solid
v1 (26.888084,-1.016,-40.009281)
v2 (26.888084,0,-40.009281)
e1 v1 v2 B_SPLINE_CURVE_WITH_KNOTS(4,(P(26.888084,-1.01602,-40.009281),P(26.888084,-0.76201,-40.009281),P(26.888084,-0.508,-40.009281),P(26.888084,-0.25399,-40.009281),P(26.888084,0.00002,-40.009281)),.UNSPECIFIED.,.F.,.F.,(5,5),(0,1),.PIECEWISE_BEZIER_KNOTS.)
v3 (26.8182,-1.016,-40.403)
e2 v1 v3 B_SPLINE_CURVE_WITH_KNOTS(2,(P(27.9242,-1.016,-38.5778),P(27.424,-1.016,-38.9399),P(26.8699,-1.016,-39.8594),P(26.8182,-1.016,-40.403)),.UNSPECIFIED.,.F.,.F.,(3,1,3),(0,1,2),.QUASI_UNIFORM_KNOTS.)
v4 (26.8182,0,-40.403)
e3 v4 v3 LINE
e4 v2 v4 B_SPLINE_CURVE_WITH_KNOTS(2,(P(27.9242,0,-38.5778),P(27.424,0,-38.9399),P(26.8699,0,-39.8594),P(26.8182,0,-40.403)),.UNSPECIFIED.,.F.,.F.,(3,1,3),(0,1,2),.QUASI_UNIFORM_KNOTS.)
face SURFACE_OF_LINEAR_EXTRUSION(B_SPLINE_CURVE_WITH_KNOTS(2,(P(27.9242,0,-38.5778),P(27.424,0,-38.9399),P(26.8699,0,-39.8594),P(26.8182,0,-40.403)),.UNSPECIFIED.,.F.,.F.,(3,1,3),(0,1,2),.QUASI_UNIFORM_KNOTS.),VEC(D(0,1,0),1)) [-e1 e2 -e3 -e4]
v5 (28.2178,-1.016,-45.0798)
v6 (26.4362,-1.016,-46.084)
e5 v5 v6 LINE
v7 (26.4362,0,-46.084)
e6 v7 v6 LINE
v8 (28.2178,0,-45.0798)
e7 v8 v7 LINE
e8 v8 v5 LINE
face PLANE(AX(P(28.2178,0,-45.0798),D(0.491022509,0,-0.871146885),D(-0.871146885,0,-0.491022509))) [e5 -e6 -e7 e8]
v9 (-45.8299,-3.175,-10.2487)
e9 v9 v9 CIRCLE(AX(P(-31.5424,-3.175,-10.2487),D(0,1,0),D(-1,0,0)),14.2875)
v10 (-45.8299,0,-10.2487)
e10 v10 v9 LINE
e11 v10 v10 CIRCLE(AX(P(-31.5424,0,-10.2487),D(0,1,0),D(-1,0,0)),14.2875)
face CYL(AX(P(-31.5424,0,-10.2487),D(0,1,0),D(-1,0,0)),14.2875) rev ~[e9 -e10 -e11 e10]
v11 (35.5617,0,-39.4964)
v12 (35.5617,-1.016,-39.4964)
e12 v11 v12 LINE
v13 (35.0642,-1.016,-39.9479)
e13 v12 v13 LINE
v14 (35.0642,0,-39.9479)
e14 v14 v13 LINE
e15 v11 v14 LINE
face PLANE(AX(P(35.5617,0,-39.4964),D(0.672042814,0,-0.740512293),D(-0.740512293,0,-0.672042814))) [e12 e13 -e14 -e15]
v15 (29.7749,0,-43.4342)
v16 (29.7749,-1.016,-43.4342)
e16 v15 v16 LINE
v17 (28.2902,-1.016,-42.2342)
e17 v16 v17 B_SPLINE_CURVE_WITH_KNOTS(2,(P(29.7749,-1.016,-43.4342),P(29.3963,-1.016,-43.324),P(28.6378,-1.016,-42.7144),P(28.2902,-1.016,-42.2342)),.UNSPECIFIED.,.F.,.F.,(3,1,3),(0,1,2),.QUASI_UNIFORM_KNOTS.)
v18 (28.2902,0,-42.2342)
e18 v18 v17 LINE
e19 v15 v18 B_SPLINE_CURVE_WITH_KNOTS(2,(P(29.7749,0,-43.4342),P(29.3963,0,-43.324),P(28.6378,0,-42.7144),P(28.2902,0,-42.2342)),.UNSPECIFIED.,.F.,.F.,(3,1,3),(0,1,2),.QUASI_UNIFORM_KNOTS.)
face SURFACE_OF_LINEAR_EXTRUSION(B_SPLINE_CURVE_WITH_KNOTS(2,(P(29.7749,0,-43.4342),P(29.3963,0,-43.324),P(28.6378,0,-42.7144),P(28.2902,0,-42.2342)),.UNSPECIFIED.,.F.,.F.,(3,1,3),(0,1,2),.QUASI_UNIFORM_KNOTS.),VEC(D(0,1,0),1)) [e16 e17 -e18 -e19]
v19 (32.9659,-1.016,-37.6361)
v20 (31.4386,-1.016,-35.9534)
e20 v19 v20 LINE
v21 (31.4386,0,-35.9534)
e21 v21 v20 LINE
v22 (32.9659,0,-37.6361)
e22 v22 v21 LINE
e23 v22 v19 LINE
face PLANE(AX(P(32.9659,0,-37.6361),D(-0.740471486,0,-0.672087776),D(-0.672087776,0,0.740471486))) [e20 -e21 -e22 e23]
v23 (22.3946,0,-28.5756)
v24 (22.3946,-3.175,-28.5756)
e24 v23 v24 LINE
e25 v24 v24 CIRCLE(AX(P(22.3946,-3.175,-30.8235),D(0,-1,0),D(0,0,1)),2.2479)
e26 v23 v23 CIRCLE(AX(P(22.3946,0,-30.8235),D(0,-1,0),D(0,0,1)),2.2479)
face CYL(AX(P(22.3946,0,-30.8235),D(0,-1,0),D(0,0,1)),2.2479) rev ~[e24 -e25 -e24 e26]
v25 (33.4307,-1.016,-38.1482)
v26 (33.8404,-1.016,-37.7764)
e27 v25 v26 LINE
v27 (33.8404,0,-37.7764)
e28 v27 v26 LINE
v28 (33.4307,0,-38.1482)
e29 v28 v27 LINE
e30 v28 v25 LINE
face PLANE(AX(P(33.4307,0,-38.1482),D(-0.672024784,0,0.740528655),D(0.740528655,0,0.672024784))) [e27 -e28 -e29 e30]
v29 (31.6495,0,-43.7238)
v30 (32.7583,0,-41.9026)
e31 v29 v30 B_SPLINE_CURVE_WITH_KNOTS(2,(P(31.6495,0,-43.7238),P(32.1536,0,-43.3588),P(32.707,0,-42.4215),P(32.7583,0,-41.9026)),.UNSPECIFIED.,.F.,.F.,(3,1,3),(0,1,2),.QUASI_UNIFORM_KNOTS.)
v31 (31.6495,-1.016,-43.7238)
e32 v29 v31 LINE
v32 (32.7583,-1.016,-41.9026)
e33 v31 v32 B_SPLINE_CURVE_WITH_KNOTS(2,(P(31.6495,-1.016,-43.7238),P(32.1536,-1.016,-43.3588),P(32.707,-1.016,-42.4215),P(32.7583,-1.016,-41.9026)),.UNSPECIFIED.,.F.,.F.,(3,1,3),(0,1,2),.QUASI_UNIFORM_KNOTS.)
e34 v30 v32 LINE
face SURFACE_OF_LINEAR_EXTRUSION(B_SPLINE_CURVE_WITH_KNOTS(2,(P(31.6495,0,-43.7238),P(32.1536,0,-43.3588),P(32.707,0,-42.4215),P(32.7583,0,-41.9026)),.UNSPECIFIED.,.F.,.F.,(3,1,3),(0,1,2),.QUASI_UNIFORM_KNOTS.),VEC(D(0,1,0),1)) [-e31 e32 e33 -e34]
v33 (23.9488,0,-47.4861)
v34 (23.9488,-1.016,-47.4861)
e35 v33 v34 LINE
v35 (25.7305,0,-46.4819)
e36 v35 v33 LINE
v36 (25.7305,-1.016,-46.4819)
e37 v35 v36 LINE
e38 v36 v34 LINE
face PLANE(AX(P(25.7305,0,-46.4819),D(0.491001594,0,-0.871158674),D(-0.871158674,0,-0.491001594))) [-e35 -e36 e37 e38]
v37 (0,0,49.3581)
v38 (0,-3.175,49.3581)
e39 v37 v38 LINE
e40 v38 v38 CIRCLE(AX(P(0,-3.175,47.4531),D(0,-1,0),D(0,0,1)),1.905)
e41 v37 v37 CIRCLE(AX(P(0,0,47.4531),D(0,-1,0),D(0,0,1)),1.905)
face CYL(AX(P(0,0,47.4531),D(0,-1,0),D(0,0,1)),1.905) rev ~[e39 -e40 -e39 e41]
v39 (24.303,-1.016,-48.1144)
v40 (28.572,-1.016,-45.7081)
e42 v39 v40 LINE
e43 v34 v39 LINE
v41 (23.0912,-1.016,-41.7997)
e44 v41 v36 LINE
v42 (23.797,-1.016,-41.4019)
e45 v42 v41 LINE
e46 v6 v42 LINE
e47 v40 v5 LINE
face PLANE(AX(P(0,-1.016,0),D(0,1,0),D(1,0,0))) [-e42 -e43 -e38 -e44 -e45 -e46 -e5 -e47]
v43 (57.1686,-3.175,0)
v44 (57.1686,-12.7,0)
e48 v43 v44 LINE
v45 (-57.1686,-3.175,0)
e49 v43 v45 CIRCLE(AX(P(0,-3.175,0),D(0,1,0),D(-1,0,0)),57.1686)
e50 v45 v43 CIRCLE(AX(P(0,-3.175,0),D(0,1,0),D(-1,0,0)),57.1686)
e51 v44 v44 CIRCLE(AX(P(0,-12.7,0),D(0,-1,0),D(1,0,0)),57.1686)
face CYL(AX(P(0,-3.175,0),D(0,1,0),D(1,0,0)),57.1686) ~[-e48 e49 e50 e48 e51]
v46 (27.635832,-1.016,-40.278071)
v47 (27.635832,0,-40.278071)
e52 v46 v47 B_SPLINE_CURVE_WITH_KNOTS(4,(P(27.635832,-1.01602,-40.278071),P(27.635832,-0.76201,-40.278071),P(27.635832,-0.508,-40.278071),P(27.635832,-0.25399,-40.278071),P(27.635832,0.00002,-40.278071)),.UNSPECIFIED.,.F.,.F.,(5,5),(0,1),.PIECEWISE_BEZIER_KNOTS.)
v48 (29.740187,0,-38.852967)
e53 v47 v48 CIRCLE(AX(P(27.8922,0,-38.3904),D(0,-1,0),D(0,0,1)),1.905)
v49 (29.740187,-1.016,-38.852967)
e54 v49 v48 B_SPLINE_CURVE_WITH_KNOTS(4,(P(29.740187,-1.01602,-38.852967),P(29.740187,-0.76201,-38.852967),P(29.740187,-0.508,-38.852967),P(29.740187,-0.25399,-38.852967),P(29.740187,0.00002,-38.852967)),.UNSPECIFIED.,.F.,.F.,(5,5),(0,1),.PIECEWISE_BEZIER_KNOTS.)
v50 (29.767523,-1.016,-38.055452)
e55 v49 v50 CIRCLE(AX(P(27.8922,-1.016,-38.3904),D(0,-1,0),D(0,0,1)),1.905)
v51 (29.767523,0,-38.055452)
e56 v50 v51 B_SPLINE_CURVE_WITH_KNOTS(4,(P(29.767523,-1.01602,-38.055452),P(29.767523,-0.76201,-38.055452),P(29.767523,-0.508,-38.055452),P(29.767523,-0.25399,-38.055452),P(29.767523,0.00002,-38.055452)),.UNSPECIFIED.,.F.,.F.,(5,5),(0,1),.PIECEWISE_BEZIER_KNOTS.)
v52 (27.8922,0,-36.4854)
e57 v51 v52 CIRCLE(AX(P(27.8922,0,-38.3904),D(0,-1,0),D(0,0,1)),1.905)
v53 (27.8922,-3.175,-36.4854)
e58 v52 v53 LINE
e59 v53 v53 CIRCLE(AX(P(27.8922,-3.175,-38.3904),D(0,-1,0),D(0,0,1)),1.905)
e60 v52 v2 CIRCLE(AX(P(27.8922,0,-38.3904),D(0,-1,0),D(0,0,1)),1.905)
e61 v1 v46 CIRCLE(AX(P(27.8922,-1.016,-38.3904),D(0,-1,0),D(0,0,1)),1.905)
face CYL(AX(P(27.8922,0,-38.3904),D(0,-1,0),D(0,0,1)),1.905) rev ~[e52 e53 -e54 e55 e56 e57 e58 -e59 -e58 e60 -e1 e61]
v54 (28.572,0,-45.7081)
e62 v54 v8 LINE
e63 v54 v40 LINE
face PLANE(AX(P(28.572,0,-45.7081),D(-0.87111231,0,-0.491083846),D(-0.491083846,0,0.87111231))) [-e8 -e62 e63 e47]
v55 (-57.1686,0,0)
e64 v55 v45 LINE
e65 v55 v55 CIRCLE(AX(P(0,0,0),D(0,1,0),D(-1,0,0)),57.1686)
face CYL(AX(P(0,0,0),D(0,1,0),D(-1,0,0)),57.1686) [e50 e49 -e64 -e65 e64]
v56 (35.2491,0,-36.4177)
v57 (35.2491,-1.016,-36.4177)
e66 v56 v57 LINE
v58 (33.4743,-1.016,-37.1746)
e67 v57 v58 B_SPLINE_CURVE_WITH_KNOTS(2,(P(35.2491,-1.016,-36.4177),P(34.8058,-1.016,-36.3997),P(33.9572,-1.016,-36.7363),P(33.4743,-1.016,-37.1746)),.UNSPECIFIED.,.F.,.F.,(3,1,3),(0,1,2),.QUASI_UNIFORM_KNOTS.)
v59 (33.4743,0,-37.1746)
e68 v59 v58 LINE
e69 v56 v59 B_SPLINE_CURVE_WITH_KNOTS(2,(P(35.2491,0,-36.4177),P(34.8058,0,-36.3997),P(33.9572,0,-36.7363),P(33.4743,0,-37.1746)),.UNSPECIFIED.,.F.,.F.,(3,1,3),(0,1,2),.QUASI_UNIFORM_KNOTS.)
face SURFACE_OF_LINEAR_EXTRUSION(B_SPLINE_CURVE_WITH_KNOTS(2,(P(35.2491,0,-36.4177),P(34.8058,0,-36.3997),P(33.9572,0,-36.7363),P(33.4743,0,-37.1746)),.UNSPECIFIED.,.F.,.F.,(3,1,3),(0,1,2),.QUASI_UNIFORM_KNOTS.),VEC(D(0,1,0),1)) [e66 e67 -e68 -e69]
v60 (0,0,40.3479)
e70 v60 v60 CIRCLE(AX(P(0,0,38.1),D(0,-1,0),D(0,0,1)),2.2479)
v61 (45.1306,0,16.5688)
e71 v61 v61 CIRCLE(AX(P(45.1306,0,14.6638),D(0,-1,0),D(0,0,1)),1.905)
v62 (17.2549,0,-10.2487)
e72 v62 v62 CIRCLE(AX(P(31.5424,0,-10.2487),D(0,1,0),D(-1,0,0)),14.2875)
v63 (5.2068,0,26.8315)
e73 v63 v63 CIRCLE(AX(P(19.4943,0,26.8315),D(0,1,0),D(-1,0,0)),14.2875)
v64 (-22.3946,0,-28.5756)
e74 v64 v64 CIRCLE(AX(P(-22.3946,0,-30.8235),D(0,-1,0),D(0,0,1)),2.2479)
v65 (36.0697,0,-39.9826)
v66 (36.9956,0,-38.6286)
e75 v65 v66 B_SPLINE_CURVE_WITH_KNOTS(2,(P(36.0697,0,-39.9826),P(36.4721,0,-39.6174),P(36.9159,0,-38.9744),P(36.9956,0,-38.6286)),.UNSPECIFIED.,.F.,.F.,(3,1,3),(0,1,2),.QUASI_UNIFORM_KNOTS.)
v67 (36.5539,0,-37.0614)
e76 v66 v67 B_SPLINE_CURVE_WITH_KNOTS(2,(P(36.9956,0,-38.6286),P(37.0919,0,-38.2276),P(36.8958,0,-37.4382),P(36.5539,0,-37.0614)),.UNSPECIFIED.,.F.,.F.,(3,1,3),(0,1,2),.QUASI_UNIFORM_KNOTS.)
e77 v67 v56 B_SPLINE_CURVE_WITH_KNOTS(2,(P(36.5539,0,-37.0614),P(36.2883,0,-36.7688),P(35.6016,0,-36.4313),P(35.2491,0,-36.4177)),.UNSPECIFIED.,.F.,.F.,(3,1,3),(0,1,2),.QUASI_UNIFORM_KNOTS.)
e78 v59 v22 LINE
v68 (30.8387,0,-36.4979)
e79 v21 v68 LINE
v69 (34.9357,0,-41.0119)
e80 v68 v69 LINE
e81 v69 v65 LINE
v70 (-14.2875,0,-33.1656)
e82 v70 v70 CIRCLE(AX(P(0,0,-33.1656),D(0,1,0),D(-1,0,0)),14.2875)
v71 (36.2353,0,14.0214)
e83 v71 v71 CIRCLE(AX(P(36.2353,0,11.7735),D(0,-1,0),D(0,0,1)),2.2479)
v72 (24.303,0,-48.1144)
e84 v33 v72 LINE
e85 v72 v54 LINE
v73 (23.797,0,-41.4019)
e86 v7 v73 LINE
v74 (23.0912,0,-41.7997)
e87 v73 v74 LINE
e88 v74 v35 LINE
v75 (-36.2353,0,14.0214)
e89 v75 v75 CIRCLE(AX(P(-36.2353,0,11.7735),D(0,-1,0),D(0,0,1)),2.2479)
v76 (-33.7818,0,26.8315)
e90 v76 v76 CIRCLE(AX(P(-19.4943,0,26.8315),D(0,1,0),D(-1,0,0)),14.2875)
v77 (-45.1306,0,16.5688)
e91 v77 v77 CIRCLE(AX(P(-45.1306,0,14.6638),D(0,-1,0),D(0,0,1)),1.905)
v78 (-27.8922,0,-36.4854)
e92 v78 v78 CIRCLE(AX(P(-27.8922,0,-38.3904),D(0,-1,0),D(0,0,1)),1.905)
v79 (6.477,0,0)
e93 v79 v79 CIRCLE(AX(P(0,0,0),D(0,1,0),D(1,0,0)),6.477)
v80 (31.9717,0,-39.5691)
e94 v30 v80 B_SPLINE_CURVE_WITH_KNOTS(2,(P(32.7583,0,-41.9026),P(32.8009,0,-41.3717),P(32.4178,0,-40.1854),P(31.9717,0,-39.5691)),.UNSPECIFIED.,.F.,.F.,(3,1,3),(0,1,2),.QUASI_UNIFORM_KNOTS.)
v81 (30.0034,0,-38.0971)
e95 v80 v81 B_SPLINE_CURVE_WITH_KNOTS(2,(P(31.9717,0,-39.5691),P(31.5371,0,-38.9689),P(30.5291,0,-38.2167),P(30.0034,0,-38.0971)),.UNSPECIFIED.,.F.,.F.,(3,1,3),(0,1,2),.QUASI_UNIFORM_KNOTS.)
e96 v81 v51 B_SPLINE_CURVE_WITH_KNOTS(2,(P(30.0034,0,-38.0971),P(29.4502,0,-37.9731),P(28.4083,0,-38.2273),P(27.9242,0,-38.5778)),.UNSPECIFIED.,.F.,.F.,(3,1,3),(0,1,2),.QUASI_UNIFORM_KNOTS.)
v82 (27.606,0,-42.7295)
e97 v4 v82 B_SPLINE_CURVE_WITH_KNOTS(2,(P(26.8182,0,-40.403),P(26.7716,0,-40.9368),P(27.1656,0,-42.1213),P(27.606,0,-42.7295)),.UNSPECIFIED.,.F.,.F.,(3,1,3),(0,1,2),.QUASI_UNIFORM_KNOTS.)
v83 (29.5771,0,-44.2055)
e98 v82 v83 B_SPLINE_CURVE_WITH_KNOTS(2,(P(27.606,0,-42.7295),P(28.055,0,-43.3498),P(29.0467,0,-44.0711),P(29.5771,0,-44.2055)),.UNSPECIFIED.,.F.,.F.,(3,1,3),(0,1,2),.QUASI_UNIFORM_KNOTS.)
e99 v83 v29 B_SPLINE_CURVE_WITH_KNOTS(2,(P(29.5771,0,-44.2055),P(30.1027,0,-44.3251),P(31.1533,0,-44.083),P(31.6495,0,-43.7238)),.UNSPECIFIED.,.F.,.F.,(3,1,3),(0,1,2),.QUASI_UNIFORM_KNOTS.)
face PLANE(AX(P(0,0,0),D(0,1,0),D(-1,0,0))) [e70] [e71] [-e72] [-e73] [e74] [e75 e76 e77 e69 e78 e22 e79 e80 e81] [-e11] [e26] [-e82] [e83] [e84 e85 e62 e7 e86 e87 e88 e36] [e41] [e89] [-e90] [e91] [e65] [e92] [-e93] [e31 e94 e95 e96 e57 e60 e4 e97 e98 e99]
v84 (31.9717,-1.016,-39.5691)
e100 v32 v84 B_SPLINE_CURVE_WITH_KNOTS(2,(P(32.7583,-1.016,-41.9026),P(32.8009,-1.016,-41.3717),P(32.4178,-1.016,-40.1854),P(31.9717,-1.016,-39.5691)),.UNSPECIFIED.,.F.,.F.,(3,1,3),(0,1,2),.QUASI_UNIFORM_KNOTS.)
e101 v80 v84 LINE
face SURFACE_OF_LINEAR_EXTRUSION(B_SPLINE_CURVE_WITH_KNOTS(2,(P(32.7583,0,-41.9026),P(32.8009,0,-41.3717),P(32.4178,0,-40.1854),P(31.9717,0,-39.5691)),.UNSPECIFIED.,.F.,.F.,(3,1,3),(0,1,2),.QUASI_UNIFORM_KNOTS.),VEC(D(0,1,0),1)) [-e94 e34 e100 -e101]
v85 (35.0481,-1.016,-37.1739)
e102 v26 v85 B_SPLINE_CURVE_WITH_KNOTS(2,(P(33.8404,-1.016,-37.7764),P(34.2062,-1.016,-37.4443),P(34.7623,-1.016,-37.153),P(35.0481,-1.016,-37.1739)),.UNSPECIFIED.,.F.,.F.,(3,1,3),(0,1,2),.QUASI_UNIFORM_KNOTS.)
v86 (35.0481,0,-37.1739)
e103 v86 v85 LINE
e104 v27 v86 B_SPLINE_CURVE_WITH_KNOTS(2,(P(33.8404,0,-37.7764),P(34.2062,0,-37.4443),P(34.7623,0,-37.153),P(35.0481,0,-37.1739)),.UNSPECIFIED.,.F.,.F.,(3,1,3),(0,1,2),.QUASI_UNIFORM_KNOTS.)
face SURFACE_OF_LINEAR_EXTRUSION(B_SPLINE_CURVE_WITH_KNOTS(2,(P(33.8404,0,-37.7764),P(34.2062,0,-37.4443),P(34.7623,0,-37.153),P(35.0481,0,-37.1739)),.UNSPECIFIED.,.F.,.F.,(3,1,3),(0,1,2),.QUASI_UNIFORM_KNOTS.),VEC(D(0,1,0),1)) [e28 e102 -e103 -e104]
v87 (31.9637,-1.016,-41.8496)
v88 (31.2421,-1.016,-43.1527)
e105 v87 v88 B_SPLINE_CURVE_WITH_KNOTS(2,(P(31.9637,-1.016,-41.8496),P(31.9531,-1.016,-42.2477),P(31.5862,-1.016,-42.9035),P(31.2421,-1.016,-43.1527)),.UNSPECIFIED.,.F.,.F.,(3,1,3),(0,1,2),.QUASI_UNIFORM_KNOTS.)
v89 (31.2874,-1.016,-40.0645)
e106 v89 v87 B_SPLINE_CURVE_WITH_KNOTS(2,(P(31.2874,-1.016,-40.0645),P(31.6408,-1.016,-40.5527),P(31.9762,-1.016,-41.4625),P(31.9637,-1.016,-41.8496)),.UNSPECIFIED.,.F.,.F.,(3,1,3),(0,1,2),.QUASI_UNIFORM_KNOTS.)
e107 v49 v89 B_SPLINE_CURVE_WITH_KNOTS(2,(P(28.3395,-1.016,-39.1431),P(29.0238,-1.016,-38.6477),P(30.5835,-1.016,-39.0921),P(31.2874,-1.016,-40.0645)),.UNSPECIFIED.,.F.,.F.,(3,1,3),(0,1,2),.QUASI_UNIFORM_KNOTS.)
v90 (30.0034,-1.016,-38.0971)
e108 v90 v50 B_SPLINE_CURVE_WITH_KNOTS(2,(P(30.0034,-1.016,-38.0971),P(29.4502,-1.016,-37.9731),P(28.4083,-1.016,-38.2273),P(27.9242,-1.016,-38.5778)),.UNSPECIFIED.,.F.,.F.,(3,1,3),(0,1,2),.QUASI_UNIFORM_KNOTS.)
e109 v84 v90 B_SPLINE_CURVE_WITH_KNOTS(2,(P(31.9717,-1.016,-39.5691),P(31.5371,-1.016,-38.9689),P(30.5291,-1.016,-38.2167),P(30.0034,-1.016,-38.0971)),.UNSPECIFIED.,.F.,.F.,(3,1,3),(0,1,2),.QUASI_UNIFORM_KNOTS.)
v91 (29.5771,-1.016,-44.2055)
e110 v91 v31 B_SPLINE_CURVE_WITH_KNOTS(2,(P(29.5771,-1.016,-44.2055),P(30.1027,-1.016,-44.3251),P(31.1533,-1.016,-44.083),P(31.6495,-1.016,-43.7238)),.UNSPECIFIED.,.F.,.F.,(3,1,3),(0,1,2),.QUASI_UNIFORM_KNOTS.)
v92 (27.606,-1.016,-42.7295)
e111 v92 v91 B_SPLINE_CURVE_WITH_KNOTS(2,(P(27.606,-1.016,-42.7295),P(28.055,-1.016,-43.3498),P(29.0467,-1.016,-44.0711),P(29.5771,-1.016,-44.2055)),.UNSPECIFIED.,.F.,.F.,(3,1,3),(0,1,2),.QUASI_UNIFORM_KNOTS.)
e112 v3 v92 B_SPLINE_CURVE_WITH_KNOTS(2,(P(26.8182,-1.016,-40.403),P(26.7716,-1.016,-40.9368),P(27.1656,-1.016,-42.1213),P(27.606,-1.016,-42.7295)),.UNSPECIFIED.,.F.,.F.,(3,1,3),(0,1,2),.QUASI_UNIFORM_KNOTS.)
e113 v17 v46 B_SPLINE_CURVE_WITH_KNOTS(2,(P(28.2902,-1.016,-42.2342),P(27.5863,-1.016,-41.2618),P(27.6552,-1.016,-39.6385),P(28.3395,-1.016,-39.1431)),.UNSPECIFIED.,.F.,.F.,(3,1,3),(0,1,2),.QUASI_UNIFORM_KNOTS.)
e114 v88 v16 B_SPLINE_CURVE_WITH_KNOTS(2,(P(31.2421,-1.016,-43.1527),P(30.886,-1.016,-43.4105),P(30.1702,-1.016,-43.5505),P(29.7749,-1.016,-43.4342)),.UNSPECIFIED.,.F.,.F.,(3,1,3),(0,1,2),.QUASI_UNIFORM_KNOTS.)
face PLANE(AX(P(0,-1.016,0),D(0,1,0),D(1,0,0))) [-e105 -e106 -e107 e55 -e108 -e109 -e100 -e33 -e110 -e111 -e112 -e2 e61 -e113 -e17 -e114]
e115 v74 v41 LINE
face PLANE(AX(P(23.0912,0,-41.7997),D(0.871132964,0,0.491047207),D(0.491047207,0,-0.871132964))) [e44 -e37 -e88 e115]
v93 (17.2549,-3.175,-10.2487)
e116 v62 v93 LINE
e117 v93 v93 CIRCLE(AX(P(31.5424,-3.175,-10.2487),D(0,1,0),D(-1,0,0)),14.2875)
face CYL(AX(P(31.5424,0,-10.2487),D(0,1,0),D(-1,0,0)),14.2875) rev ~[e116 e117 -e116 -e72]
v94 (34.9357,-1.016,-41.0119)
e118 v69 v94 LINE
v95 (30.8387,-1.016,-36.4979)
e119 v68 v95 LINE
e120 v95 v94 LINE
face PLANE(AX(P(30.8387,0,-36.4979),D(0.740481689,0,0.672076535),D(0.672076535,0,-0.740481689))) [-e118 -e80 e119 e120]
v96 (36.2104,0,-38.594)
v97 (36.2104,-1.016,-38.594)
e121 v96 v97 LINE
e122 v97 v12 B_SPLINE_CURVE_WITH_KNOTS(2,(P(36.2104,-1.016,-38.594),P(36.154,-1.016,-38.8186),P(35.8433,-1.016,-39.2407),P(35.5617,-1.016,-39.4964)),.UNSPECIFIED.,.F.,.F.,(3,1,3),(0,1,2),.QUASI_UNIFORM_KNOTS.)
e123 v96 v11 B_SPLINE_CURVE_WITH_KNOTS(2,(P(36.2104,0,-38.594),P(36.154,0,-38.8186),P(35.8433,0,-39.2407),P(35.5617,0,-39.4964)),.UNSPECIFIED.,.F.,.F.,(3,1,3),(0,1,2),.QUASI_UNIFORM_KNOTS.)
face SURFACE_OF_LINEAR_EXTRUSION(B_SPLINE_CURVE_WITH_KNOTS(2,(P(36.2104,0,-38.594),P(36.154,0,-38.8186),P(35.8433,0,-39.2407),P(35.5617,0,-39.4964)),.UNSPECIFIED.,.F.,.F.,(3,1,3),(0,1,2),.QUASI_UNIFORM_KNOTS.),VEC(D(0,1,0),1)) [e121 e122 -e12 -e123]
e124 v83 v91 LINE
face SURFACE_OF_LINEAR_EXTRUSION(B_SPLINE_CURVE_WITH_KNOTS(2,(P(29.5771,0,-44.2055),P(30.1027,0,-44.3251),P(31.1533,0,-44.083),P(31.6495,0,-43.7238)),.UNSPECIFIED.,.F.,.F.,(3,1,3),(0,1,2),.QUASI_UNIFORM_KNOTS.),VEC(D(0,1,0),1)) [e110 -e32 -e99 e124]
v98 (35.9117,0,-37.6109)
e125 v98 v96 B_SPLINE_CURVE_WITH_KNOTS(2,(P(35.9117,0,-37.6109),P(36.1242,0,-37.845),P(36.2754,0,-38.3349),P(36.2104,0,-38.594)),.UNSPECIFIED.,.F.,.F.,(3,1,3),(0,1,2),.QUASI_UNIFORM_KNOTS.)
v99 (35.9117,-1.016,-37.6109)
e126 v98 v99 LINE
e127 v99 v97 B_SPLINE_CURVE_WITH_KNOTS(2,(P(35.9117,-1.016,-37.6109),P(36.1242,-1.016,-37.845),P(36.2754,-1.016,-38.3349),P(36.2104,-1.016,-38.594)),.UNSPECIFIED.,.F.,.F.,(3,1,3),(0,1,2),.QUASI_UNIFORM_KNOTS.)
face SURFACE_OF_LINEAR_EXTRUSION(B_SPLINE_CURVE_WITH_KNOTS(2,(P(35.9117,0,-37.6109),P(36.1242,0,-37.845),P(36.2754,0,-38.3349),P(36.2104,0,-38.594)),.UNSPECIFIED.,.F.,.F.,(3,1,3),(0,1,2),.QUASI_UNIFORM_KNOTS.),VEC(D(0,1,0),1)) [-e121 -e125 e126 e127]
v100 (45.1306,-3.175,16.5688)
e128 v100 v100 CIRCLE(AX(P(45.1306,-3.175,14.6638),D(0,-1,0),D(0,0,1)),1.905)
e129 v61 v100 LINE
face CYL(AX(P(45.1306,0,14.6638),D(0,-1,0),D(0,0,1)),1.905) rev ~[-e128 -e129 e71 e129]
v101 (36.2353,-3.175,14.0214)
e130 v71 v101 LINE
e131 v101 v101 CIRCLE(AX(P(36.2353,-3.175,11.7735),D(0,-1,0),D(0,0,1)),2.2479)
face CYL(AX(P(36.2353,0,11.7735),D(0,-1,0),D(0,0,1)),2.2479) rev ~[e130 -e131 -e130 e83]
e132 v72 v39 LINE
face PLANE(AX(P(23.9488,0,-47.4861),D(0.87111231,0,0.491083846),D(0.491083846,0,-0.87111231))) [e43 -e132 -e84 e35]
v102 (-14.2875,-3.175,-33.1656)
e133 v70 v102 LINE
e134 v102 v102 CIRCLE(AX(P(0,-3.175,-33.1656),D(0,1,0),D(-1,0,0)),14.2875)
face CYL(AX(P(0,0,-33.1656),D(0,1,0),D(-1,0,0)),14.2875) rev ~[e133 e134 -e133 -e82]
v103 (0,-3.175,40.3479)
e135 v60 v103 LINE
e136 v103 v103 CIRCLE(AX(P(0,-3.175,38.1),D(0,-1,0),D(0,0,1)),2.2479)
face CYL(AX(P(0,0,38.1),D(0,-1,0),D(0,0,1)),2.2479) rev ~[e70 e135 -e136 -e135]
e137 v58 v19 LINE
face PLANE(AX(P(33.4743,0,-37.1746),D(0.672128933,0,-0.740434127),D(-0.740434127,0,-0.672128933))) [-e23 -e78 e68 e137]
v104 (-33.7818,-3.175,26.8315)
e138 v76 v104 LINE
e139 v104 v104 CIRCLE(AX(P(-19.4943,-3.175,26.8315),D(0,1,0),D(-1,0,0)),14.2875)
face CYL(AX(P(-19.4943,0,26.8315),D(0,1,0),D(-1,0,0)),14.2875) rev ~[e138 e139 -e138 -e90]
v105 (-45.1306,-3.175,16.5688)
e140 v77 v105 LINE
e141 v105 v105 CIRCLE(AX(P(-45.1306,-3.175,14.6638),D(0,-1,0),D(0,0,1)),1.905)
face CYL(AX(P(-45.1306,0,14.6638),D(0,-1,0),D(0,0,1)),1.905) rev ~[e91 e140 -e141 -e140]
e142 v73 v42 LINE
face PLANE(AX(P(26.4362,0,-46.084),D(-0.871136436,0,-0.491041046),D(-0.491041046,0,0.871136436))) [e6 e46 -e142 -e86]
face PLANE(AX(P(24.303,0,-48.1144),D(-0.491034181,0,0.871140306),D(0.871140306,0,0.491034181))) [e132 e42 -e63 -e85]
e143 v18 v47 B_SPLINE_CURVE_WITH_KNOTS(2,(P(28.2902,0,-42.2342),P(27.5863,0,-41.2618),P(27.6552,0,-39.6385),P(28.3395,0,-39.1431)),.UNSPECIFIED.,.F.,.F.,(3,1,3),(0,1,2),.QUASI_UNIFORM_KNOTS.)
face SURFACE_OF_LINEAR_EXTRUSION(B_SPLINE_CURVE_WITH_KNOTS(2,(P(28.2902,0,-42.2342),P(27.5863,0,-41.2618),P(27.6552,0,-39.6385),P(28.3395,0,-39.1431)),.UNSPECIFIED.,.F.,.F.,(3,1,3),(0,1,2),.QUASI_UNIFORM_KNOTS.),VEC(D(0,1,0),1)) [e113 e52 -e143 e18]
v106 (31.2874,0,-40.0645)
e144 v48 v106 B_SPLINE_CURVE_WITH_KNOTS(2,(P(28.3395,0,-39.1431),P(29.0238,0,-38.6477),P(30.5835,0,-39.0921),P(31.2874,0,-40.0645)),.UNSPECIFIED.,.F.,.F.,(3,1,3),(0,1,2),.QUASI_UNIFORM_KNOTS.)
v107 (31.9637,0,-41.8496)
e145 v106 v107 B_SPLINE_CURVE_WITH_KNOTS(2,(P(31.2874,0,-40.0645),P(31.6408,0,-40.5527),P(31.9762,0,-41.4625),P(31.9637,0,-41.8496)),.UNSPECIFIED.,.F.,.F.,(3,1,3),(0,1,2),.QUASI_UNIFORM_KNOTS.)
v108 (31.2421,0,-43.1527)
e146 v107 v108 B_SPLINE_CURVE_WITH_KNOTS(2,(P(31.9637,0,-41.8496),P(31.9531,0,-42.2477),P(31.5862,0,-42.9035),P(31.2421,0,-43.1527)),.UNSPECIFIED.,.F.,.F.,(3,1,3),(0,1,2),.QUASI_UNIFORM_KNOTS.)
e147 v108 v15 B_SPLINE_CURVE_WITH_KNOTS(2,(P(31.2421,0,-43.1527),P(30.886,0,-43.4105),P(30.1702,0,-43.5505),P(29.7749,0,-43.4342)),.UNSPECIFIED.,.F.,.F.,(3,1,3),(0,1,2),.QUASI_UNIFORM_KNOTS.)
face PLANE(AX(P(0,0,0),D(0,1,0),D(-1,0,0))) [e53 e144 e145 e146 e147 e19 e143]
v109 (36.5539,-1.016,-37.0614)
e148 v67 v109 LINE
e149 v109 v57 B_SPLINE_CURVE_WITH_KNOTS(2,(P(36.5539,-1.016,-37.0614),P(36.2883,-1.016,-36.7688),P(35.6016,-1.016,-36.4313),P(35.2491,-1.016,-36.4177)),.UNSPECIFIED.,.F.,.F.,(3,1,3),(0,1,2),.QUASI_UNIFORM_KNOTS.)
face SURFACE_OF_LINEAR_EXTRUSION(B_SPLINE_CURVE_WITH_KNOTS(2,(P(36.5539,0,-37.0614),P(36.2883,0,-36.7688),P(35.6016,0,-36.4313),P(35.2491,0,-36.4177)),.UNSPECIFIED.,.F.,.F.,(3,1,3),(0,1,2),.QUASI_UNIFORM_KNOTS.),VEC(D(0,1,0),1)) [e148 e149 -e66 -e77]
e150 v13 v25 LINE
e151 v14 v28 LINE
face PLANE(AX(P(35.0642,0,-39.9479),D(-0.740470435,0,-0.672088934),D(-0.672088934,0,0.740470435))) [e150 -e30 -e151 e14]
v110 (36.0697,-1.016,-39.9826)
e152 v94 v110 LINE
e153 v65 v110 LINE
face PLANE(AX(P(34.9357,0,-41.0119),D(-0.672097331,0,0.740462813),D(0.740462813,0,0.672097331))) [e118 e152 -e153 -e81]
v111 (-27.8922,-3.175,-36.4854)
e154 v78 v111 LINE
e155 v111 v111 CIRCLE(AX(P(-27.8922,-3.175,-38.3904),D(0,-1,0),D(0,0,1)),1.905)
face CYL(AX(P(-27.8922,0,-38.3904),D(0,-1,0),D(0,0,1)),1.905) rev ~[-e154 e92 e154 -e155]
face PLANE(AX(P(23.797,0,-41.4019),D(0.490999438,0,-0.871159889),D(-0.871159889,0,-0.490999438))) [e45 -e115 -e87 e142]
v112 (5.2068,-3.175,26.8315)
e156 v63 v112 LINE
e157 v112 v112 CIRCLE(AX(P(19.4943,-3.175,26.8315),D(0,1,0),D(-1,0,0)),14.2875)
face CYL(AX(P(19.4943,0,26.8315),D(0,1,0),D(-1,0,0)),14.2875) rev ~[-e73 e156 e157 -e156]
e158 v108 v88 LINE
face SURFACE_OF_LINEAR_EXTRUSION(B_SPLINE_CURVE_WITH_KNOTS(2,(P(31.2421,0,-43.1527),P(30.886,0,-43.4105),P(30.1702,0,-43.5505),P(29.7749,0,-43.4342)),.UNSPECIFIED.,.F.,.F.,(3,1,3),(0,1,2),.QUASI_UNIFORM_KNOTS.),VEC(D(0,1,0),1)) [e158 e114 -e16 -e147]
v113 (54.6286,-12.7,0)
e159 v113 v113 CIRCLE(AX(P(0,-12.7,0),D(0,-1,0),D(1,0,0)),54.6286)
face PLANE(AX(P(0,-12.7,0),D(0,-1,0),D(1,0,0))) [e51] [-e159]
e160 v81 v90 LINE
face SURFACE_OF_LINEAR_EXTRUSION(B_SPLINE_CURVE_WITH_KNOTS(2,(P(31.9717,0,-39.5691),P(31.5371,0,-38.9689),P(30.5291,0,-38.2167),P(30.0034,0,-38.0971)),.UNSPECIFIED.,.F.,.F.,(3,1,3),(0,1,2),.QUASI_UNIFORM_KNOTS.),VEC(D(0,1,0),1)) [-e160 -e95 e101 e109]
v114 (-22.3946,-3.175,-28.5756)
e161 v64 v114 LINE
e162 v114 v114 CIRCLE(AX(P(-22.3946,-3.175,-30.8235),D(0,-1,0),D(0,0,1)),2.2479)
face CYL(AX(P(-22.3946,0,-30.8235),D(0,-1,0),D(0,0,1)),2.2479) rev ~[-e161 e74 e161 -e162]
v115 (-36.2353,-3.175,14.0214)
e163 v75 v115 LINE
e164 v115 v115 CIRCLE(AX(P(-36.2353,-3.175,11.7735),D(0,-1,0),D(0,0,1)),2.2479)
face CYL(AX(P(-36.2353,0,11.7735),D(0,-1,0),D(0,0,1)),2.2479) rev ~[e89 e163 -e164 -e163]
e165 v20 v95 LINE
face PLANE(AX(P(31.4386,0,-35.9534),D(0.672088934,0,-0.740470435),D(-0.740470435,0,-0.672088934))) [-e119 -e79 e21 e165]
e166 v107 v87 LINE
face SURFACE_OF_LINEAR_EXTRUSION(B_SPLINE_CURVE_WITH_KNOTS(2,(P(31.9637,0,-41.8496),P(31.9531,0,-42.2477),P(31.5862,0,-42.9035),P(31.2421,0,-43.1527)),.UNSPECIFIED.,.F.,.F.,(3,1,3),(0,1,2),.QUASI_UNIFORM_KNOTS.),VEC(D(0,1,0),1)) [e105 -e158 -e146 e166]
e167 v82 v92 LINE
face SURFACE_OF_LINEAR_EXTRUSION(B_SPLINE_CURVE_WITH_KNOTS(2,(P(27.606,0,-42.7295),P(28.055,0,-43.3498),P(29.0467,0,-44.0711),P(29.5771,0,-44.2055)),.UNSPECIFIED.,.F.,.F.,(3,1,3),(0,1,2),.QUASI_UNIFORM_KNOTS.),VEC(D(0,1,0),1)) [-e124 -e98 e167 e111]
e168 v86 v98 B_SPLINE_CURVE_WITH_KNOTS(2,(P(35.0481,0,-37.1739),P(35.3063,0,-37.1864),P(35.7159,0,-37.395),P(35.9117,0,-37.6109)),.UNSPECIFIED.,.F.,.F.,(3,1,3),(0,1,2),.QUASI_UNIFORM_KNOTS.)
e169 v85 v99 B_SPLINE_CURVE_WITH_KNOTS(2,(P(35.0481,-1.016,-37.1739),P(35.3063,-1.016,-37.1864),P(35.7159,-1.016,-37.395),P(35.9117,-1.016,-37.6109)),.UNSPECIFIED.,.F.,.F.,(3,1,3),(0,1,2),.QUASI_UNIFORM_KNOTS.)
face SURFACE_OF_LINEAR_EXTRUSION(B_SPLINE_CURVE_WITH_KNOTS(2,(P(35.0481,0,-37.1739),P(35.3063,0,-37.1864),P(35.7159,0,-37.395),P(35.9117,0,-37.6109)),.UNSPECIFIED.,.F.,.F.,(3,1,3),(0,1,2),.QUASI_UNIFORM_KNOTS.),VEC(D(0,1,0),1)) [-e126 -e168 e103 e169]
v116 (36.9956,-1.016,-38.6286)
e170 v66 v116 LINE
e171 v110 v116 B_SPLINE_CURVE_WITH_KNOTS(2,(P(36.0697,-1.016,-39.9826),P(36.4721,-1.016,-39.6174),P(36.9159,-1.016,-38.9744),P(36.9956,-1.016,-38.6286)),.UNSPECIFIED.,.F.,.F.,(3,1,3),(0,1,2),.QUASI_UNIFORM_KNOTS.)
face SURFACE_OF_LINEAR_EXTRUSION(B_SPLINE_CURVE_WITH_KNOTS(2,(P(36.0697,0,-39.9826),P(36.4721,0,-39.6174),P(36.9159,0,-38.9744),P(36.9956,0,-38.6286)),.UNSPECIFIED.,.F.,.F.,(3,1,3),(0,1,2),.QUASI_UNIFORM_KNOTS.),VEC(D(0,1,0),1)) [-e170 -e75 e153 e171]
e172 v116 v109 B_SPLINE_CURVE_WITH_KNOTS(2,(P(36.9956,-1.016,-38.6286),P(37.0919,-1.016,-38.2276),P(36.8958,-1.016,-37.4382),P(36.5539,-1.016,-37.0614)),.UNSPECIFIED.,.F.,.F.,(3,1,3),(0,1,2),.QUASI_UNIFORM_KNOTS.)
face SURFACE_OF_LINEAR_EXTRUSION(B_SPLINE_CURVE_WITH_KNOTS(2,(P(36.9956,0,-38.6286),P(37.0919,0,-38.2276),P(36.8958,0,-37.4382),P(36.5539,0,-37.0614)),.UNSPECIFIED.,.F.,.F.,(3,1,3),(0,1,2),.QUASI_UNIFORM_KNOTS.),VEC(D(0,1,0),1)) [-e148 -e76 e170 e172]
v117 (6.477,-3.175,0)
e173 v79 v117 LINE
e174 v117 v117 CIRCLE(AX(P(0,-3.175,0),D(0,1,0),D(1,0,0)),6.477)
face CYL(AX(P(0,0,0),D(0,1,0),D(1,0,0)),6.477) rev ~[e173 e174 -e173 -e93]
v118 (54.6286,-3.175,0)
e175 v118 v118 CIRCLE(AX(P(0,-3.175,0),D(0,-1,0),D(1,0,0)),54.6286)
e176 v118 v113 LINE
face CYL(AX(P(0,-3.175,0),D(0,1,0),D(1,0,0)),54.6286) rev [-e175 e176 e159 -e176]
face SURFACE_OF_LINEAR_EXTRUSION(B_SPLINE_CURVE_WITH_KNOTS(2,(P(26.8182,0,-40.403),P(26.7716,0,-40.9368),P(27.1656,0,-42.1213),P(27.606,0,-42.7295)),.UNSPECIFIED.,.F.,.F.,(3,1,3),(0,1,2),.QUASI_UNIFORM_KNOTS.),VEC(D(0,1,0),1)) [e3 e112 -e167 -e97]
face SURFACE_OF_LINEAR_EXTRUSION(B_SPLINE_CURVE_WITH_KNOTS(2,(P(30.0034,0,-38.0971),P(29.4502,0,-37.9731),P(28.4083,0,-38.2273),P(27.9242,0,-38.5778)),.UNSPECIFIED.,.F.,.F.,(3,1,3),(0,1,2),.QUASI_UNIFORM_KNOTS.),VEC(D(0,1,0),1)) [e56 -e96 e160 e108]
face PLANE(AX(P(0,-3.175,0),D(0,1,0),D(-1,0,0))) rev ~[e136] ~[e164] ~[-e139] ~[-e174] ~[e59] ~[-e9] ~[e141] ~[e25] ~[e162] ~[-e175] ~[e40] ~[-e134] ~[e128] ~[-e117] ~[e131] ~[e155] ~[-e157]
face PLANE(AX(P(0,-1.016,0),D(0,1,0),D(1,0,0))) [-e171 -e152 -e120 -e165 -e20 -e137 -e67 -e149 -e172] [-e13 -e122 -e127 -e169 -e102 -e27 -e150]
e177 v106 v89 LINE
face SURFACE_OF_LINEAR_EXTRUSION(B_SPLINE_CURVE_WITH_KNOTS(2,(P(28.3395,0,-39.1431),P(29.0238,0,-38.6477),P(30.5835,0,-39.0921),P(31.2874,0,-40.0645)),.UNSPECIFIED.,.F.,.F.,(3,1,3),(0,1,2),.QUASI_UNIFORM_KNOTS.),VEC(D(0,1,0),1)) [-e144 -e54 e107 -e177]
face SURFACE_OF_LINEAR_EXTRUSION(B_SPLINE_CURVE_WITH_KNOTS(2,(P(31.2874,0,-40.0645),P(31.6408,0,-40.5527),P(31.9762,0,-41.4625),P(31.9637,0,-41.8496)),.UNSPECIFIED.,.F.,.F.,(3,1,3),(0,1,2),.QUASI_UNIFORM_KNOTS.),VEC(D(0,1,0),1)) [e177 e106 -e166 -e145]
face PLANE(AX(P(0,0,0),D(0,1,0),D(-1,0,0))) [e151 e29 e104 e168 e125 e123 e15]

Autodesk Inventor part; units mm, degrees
ref_plane "YZ Plane" through (0, 0, 0) normal (1, 0, 0) x (0, 1, 0)
ref_plane "XZ Plane" through (0, 0, 0) normal (0, 1, 0) x (-1, 0, 0)
ref_plane "XY Plane" through (0, 0, 0) normal (0, 0, 1) x (1, 0, 0)
sketch "Sketch1" plane through (0, 0, 0) normal (0, 1, 0) x (-1, 0, 0)
  circle A0 centre (0, 0) radius 57.1686
  circle A1 centre (0, 0) radius 33.1656 construction
  circle A2 centre (0, -33.1656) radius 14.2875
  circle A3 centre (31.5424, -10.2487) radius 14.2875
  circle A4 centre (19.4943, 26.8315) radius 14.2875
  circle A5 centre (-19.4943, 26.8315) radius 14.2875
  circle A6 centre (-31.5424, -10.2487) radius 14.2875
  dimension "wheelFilterDiameter" = 66.3312
  dimension "wheelOuterDiameter" = 114.3372
  dimension "filterThreadDiameter" = 28.575
  dimension "d5" = 360
extrude "Extrusion5" add sketch "Sketch1" against normal blind 3.175
sketch "Sketch5" plane through (0, 0, 0) normal (0, 1, 0) x (1, 0, 0)
  arc A0 (35.921, 35.921) -> (0, 50.8) centre (0, 0) ccw construction
  line L0 (0, 50.8) -> (0, -50.8) construction
  line L1 (50.8, 0) -> (-50.8, 0) construction
  line L2 (0, 0) -> (35.921, 35.921) construction
  line L3 (23.0912, 41.7997) -> (25.7305, 46.4819)
  line L4 (25.7305, 46.4819) -> (23.9488, 47.4861)
  line L5 (23.9488, 47.4861) -> (24.303, 48.1144)
  line L6 (24.303, 48.1144) -> (28.572, 45.7081)
  line L7 (28.572, 45.7081) -> (28.2178, 45.0798)
  line L8 (28.2178, 45.0798) -> (26.4362, 46.084)
  line L9 (26.4362, 46.084) -> (23.797, 41.4019)
  line L10 (23.797, 41.4019) -> (23.0912, 41.7997)
  spline S0 degree 2 poles (32.7583, 41.9026) (32.8009, 41.3717) (32.4178, 40.1854) (31.9717, 39.5691) knots 0 0 0 1 2 2 2
  spline S1 degree 2 poles (31.9717, 39.5691) (31.5371, 38.9689) (30.5291, 38.2167) (30.0034, 38.0971) knots 0 0 0 1 2 2 2
  spline S2 degree 2 poles (30.0034, 38.0971) (29.4502, 37.9731) (28.4083, 38.2273) (27.9242, 38.5778) knots 0 0 0 1 2 2 2
  spline S3 degree 2 poles (27.9242, 38.5778) (27.424, 38.9399) (26.8699, 39.8594) (26.8182, 40.403) knots 0 0 0 1 2 2 2
  spline S4 degree 2 poles (26.8182, 40.403) (26.7716, 40.9368) (27.1656, 42.1213) (27.606, 42.7295) knots 0 0 0 1 2 2 2
  spline S5 degree 2 poles (27.606, 42.7295) (28.055, 43.3498) (29.0467, 44.0711) (29.5771, 44.2055) knots 0 0 0 1 2 2 2
  spline S6 degree 2 poles (29.5771, 44.2055) (30.1027, 44.3251) (31.1533, 44.083) (31.6495, 43.7238) knots 0 0 0 1 2 2 2
  spline S7 degree 2 poles (31.6495, 43.7238) (32.1536, 43.3588) (32.707, 42.4215) (32.7583, 41.9026) knots 0 0 0 1 2 2 2
  spline S8 degree 2 poles (31.2874, 40.0645) (31.6408, 40.5527) (31.9762, 41.4625) (31.9637, 41.8496) knots 0 0 0 1 2 2 2
  spline S9 degree 2 poles (31.9637, 41.8496) (31.9531, 42.2477) (31.5862, 42.9035) (31.2421, 43.1527) knots 0 0 0 1 2 2 2
  spline S10 degree 2 poles (31.2421, 43.1527) (30.886, 43.4105) (30.1702, 43.5505) (29.7749, 43.4342) knots 0 0 0 1 2 2 2
  spline S11 degree 2 poles (29.7749, 43.4342) (29.3963, 43.324) (28.6378, 42.7144) (28.2902, 42.2342) knots 0 0 0 1 2 2 2
  spline S12 degree 2 poles (28.2902, 42.2342) (27.5863, 41.2618) (27.6552, 39.6385) (28.3395, 39.1431) knots 0 0 0 1 2 2 2
  spline S13 degree 2 poles (28.3395, 39.1431) (29.0238, 38.6477) (30.5835, 39.0921) (31.2874, 40.0645) knots 0 0 0 1 2 2 2
  spline S14 degree 2 poles (36.5539, 37.0614) (36.2883, 36.7688) (35.6016, 36.4313) (35.2491, 36.4177) knots 0 0 0 1 2 2 2
  spline S15 degree 2 poles (35.2491, 36.4177) (34.8058, 36.3997) (33.9572, 36.7363) (33.4743, 37.1746) knots 0 0 0 1 2 2 2
  line L11 (33.4743, 37.1746) -> (32.9659, 37.6361)
  line L12 (32.9659, 37.6361) -> (31.4386, 35.9534)
  line L13 (31.4386, 35.9534) -> (30.8387, 36.4979)
  line L14 (30.8387, 36.4979) -> (34.9357, 41.0119)
  line L15 (34.9357, 41.0119) -> (36.0697, 39.9826)
  spline S16 degree 2 poles (36.0697, 39.9826) (36.4721, 39.6174) (36.9159, 38.9744) (36.9956, 38.6286) knots 0 0 0 1 2 2 2
  spline S17 degree 2 poles (36.9956, 38.6286) (37.0919, 38.2276) (36.8958, 37.4382) (36.5539, 37.0614) knots 0 0 0 1 2 2 2
  spline S18 degree 2 poles (35.9117, 37.6109) (36.1242, 37.845) (36.2754, 38.3349) (36.2104, 38.594) knots 0 0 0 1 2 2 2
  spline S19 degree 2 poles (36.2104, 38.594) (36.154, 38.8186) (35.8433, 39.2407) (35.5617, 39.4964) knots 0 0 0 1 2 2 2
  line L16 (35.5617, 39.4964) -> (35.0642, 39.9479)
  line L17 (35.0642, 39.9479) -> (33.4307, 38.1482)
  line L18 (33.4307, 38.1482) -> (33.8404, 37.7764)
  spline S20 degree 2 poles (33.8404, 37.7764) (34.2062, 37.4443) (34.7623, 37.153) (35.0481, 37.1739) knots 0 0 0 1 2 2 2
  spline S21 degree 2 poles (35.0481, 37.1739) (35.3063, 37.1864) (35.7159, 37.395) (35.9117, 37.6109) knots 0 0 0 1 2 2 2
  dimension "d25" = 101.6
extrude "Extrusion6" cut sketch "Sketch5" against normal blind 1.016
sketch "Sketch6" plane through (0, 0, 0) normal (0, 1, 0) x (1, 0, 0)
  circle A0 centre (0, 0) radius 6.477
  dimension "d28" = 12.954
extrude "Extrusion7" cut sketch "Sketch6" against normal through all
sketch "Sketch8" plane through (0, -3.175, 0) normal (0, -1, 0) x (1, 0, 0)
  circle A0 centre (0, 0) radius 57.1686
  circle A1 centre (0, 0) radius 54.6286
  dimension "d38" = 114.3372
  dimension "d39" = 2.54
extrude "Extrusion8" add sketch "Sketch8" along normal blind 9.525
sketch "Sketch9" plane through (0, 0, 0) normal (0, 1, 0) x (1, 0, 0)
  circle A0 centre (0, 0) radius 6.477 construction
  circle A1 centre (0, 0) radius 38.1 construction
  line L0 (0, 0) -> (38.1, 0) construction
  line L1 (0, 0) -> (36.2353, -11.7735) construction
  circle A2 centre (19.4943, -26.8315) radius 14.2875 construction
  circle A3 centre (31.5424, 10.2487) radius 14.2875 construction
  line L2 (36.2353, -11.7735) -> (38.0188, -2.4866) construction
  circle A4 centre (31.5424, 10.2487) radius 14.2875 construction
  line L3 (36.2353, -11.7735) -> (32.2194, -20.3352) construction
  point P0 (22.3946, 30.8235)
  point P1 (-22.3946, 30.8235)
  point P2 (-36.2353, -11.7735)
  point P3 (0, -38.1)
  dimension "d42" = 76.2
  dimension "d45" = 360
  dimension "d54" = 18
hole "Hole2" at (36.2353, 0, 11.7735) at (22.3946, 0, -30.8235) at (-22.3946, 0, -30.8235) at (-36.2353, 0, 11.7735) at (0, 0, 38.1) direction (0, -1, 0) diameter 4.4958 end through all clearance for "Flat Head Machine Screw (82)" size "#8" standard "Ansi Unified Screw Threads"
sketch "Sketch11" plane through (0, 0, 0) normal (0, 1, 0) x (1, 0, 0)
  circle A0 centre (0, 0) radius 57.1686 projected
  circle A1 centre (0, 0) radius 47.4531 construction
  point P0 (0, -47.4531)
  point P1 (-45.1306, -14.6638)
  point P2 (-27.8922, 38.3904)
  point P3 (27.8922, 38.3904)
  point P4 (45.1306, -14.6638)
  dimension "d63" = 9.7155
  dimension "d66" = 360
hole "Hole4" at (0, 0, 47.4531) at (-45.1306, 0, 14.6638) at (-27.8922, 0, -38.3904) at (27.8922, 0, -38.3904) at (45.1306, 0, 14.6638) direction (0, -1, 0) diameter 3.81 end through all clearance for "Hex Machine Screw" size "#6" standard "Ansi Unified Screw Threads"
equation "\"wheelFilterDiameter\" = 0.318471 * wheelFilterCircumference"
equation "\"wheelOuterDiameter\" = filterDiameter + wheelFilterDiameter + 2 * distanceFromFilterToEdge"
equation "\"d23\" = filterWheelThickness"
equation "\"d26\" = textDepth"
equation "\"d28\" = centerHoleDiameter"
equation "\"distanceBetweenFilters\" = 12.7"
equation "\"distanceFromFilterToEdge\" = 9.525"
equation "\"filterDiameter\" = 28.956"
equation "\"filterWheelThickness\" = 3.175"
equation "\"textDepth\" = 1.016"
equation "\"centerHoleDiameter\" = 12.954"
equation "\"wheelFilterCircumference\" = 208.28"
properties part number "filterHolder" material "PBT Plastic"
